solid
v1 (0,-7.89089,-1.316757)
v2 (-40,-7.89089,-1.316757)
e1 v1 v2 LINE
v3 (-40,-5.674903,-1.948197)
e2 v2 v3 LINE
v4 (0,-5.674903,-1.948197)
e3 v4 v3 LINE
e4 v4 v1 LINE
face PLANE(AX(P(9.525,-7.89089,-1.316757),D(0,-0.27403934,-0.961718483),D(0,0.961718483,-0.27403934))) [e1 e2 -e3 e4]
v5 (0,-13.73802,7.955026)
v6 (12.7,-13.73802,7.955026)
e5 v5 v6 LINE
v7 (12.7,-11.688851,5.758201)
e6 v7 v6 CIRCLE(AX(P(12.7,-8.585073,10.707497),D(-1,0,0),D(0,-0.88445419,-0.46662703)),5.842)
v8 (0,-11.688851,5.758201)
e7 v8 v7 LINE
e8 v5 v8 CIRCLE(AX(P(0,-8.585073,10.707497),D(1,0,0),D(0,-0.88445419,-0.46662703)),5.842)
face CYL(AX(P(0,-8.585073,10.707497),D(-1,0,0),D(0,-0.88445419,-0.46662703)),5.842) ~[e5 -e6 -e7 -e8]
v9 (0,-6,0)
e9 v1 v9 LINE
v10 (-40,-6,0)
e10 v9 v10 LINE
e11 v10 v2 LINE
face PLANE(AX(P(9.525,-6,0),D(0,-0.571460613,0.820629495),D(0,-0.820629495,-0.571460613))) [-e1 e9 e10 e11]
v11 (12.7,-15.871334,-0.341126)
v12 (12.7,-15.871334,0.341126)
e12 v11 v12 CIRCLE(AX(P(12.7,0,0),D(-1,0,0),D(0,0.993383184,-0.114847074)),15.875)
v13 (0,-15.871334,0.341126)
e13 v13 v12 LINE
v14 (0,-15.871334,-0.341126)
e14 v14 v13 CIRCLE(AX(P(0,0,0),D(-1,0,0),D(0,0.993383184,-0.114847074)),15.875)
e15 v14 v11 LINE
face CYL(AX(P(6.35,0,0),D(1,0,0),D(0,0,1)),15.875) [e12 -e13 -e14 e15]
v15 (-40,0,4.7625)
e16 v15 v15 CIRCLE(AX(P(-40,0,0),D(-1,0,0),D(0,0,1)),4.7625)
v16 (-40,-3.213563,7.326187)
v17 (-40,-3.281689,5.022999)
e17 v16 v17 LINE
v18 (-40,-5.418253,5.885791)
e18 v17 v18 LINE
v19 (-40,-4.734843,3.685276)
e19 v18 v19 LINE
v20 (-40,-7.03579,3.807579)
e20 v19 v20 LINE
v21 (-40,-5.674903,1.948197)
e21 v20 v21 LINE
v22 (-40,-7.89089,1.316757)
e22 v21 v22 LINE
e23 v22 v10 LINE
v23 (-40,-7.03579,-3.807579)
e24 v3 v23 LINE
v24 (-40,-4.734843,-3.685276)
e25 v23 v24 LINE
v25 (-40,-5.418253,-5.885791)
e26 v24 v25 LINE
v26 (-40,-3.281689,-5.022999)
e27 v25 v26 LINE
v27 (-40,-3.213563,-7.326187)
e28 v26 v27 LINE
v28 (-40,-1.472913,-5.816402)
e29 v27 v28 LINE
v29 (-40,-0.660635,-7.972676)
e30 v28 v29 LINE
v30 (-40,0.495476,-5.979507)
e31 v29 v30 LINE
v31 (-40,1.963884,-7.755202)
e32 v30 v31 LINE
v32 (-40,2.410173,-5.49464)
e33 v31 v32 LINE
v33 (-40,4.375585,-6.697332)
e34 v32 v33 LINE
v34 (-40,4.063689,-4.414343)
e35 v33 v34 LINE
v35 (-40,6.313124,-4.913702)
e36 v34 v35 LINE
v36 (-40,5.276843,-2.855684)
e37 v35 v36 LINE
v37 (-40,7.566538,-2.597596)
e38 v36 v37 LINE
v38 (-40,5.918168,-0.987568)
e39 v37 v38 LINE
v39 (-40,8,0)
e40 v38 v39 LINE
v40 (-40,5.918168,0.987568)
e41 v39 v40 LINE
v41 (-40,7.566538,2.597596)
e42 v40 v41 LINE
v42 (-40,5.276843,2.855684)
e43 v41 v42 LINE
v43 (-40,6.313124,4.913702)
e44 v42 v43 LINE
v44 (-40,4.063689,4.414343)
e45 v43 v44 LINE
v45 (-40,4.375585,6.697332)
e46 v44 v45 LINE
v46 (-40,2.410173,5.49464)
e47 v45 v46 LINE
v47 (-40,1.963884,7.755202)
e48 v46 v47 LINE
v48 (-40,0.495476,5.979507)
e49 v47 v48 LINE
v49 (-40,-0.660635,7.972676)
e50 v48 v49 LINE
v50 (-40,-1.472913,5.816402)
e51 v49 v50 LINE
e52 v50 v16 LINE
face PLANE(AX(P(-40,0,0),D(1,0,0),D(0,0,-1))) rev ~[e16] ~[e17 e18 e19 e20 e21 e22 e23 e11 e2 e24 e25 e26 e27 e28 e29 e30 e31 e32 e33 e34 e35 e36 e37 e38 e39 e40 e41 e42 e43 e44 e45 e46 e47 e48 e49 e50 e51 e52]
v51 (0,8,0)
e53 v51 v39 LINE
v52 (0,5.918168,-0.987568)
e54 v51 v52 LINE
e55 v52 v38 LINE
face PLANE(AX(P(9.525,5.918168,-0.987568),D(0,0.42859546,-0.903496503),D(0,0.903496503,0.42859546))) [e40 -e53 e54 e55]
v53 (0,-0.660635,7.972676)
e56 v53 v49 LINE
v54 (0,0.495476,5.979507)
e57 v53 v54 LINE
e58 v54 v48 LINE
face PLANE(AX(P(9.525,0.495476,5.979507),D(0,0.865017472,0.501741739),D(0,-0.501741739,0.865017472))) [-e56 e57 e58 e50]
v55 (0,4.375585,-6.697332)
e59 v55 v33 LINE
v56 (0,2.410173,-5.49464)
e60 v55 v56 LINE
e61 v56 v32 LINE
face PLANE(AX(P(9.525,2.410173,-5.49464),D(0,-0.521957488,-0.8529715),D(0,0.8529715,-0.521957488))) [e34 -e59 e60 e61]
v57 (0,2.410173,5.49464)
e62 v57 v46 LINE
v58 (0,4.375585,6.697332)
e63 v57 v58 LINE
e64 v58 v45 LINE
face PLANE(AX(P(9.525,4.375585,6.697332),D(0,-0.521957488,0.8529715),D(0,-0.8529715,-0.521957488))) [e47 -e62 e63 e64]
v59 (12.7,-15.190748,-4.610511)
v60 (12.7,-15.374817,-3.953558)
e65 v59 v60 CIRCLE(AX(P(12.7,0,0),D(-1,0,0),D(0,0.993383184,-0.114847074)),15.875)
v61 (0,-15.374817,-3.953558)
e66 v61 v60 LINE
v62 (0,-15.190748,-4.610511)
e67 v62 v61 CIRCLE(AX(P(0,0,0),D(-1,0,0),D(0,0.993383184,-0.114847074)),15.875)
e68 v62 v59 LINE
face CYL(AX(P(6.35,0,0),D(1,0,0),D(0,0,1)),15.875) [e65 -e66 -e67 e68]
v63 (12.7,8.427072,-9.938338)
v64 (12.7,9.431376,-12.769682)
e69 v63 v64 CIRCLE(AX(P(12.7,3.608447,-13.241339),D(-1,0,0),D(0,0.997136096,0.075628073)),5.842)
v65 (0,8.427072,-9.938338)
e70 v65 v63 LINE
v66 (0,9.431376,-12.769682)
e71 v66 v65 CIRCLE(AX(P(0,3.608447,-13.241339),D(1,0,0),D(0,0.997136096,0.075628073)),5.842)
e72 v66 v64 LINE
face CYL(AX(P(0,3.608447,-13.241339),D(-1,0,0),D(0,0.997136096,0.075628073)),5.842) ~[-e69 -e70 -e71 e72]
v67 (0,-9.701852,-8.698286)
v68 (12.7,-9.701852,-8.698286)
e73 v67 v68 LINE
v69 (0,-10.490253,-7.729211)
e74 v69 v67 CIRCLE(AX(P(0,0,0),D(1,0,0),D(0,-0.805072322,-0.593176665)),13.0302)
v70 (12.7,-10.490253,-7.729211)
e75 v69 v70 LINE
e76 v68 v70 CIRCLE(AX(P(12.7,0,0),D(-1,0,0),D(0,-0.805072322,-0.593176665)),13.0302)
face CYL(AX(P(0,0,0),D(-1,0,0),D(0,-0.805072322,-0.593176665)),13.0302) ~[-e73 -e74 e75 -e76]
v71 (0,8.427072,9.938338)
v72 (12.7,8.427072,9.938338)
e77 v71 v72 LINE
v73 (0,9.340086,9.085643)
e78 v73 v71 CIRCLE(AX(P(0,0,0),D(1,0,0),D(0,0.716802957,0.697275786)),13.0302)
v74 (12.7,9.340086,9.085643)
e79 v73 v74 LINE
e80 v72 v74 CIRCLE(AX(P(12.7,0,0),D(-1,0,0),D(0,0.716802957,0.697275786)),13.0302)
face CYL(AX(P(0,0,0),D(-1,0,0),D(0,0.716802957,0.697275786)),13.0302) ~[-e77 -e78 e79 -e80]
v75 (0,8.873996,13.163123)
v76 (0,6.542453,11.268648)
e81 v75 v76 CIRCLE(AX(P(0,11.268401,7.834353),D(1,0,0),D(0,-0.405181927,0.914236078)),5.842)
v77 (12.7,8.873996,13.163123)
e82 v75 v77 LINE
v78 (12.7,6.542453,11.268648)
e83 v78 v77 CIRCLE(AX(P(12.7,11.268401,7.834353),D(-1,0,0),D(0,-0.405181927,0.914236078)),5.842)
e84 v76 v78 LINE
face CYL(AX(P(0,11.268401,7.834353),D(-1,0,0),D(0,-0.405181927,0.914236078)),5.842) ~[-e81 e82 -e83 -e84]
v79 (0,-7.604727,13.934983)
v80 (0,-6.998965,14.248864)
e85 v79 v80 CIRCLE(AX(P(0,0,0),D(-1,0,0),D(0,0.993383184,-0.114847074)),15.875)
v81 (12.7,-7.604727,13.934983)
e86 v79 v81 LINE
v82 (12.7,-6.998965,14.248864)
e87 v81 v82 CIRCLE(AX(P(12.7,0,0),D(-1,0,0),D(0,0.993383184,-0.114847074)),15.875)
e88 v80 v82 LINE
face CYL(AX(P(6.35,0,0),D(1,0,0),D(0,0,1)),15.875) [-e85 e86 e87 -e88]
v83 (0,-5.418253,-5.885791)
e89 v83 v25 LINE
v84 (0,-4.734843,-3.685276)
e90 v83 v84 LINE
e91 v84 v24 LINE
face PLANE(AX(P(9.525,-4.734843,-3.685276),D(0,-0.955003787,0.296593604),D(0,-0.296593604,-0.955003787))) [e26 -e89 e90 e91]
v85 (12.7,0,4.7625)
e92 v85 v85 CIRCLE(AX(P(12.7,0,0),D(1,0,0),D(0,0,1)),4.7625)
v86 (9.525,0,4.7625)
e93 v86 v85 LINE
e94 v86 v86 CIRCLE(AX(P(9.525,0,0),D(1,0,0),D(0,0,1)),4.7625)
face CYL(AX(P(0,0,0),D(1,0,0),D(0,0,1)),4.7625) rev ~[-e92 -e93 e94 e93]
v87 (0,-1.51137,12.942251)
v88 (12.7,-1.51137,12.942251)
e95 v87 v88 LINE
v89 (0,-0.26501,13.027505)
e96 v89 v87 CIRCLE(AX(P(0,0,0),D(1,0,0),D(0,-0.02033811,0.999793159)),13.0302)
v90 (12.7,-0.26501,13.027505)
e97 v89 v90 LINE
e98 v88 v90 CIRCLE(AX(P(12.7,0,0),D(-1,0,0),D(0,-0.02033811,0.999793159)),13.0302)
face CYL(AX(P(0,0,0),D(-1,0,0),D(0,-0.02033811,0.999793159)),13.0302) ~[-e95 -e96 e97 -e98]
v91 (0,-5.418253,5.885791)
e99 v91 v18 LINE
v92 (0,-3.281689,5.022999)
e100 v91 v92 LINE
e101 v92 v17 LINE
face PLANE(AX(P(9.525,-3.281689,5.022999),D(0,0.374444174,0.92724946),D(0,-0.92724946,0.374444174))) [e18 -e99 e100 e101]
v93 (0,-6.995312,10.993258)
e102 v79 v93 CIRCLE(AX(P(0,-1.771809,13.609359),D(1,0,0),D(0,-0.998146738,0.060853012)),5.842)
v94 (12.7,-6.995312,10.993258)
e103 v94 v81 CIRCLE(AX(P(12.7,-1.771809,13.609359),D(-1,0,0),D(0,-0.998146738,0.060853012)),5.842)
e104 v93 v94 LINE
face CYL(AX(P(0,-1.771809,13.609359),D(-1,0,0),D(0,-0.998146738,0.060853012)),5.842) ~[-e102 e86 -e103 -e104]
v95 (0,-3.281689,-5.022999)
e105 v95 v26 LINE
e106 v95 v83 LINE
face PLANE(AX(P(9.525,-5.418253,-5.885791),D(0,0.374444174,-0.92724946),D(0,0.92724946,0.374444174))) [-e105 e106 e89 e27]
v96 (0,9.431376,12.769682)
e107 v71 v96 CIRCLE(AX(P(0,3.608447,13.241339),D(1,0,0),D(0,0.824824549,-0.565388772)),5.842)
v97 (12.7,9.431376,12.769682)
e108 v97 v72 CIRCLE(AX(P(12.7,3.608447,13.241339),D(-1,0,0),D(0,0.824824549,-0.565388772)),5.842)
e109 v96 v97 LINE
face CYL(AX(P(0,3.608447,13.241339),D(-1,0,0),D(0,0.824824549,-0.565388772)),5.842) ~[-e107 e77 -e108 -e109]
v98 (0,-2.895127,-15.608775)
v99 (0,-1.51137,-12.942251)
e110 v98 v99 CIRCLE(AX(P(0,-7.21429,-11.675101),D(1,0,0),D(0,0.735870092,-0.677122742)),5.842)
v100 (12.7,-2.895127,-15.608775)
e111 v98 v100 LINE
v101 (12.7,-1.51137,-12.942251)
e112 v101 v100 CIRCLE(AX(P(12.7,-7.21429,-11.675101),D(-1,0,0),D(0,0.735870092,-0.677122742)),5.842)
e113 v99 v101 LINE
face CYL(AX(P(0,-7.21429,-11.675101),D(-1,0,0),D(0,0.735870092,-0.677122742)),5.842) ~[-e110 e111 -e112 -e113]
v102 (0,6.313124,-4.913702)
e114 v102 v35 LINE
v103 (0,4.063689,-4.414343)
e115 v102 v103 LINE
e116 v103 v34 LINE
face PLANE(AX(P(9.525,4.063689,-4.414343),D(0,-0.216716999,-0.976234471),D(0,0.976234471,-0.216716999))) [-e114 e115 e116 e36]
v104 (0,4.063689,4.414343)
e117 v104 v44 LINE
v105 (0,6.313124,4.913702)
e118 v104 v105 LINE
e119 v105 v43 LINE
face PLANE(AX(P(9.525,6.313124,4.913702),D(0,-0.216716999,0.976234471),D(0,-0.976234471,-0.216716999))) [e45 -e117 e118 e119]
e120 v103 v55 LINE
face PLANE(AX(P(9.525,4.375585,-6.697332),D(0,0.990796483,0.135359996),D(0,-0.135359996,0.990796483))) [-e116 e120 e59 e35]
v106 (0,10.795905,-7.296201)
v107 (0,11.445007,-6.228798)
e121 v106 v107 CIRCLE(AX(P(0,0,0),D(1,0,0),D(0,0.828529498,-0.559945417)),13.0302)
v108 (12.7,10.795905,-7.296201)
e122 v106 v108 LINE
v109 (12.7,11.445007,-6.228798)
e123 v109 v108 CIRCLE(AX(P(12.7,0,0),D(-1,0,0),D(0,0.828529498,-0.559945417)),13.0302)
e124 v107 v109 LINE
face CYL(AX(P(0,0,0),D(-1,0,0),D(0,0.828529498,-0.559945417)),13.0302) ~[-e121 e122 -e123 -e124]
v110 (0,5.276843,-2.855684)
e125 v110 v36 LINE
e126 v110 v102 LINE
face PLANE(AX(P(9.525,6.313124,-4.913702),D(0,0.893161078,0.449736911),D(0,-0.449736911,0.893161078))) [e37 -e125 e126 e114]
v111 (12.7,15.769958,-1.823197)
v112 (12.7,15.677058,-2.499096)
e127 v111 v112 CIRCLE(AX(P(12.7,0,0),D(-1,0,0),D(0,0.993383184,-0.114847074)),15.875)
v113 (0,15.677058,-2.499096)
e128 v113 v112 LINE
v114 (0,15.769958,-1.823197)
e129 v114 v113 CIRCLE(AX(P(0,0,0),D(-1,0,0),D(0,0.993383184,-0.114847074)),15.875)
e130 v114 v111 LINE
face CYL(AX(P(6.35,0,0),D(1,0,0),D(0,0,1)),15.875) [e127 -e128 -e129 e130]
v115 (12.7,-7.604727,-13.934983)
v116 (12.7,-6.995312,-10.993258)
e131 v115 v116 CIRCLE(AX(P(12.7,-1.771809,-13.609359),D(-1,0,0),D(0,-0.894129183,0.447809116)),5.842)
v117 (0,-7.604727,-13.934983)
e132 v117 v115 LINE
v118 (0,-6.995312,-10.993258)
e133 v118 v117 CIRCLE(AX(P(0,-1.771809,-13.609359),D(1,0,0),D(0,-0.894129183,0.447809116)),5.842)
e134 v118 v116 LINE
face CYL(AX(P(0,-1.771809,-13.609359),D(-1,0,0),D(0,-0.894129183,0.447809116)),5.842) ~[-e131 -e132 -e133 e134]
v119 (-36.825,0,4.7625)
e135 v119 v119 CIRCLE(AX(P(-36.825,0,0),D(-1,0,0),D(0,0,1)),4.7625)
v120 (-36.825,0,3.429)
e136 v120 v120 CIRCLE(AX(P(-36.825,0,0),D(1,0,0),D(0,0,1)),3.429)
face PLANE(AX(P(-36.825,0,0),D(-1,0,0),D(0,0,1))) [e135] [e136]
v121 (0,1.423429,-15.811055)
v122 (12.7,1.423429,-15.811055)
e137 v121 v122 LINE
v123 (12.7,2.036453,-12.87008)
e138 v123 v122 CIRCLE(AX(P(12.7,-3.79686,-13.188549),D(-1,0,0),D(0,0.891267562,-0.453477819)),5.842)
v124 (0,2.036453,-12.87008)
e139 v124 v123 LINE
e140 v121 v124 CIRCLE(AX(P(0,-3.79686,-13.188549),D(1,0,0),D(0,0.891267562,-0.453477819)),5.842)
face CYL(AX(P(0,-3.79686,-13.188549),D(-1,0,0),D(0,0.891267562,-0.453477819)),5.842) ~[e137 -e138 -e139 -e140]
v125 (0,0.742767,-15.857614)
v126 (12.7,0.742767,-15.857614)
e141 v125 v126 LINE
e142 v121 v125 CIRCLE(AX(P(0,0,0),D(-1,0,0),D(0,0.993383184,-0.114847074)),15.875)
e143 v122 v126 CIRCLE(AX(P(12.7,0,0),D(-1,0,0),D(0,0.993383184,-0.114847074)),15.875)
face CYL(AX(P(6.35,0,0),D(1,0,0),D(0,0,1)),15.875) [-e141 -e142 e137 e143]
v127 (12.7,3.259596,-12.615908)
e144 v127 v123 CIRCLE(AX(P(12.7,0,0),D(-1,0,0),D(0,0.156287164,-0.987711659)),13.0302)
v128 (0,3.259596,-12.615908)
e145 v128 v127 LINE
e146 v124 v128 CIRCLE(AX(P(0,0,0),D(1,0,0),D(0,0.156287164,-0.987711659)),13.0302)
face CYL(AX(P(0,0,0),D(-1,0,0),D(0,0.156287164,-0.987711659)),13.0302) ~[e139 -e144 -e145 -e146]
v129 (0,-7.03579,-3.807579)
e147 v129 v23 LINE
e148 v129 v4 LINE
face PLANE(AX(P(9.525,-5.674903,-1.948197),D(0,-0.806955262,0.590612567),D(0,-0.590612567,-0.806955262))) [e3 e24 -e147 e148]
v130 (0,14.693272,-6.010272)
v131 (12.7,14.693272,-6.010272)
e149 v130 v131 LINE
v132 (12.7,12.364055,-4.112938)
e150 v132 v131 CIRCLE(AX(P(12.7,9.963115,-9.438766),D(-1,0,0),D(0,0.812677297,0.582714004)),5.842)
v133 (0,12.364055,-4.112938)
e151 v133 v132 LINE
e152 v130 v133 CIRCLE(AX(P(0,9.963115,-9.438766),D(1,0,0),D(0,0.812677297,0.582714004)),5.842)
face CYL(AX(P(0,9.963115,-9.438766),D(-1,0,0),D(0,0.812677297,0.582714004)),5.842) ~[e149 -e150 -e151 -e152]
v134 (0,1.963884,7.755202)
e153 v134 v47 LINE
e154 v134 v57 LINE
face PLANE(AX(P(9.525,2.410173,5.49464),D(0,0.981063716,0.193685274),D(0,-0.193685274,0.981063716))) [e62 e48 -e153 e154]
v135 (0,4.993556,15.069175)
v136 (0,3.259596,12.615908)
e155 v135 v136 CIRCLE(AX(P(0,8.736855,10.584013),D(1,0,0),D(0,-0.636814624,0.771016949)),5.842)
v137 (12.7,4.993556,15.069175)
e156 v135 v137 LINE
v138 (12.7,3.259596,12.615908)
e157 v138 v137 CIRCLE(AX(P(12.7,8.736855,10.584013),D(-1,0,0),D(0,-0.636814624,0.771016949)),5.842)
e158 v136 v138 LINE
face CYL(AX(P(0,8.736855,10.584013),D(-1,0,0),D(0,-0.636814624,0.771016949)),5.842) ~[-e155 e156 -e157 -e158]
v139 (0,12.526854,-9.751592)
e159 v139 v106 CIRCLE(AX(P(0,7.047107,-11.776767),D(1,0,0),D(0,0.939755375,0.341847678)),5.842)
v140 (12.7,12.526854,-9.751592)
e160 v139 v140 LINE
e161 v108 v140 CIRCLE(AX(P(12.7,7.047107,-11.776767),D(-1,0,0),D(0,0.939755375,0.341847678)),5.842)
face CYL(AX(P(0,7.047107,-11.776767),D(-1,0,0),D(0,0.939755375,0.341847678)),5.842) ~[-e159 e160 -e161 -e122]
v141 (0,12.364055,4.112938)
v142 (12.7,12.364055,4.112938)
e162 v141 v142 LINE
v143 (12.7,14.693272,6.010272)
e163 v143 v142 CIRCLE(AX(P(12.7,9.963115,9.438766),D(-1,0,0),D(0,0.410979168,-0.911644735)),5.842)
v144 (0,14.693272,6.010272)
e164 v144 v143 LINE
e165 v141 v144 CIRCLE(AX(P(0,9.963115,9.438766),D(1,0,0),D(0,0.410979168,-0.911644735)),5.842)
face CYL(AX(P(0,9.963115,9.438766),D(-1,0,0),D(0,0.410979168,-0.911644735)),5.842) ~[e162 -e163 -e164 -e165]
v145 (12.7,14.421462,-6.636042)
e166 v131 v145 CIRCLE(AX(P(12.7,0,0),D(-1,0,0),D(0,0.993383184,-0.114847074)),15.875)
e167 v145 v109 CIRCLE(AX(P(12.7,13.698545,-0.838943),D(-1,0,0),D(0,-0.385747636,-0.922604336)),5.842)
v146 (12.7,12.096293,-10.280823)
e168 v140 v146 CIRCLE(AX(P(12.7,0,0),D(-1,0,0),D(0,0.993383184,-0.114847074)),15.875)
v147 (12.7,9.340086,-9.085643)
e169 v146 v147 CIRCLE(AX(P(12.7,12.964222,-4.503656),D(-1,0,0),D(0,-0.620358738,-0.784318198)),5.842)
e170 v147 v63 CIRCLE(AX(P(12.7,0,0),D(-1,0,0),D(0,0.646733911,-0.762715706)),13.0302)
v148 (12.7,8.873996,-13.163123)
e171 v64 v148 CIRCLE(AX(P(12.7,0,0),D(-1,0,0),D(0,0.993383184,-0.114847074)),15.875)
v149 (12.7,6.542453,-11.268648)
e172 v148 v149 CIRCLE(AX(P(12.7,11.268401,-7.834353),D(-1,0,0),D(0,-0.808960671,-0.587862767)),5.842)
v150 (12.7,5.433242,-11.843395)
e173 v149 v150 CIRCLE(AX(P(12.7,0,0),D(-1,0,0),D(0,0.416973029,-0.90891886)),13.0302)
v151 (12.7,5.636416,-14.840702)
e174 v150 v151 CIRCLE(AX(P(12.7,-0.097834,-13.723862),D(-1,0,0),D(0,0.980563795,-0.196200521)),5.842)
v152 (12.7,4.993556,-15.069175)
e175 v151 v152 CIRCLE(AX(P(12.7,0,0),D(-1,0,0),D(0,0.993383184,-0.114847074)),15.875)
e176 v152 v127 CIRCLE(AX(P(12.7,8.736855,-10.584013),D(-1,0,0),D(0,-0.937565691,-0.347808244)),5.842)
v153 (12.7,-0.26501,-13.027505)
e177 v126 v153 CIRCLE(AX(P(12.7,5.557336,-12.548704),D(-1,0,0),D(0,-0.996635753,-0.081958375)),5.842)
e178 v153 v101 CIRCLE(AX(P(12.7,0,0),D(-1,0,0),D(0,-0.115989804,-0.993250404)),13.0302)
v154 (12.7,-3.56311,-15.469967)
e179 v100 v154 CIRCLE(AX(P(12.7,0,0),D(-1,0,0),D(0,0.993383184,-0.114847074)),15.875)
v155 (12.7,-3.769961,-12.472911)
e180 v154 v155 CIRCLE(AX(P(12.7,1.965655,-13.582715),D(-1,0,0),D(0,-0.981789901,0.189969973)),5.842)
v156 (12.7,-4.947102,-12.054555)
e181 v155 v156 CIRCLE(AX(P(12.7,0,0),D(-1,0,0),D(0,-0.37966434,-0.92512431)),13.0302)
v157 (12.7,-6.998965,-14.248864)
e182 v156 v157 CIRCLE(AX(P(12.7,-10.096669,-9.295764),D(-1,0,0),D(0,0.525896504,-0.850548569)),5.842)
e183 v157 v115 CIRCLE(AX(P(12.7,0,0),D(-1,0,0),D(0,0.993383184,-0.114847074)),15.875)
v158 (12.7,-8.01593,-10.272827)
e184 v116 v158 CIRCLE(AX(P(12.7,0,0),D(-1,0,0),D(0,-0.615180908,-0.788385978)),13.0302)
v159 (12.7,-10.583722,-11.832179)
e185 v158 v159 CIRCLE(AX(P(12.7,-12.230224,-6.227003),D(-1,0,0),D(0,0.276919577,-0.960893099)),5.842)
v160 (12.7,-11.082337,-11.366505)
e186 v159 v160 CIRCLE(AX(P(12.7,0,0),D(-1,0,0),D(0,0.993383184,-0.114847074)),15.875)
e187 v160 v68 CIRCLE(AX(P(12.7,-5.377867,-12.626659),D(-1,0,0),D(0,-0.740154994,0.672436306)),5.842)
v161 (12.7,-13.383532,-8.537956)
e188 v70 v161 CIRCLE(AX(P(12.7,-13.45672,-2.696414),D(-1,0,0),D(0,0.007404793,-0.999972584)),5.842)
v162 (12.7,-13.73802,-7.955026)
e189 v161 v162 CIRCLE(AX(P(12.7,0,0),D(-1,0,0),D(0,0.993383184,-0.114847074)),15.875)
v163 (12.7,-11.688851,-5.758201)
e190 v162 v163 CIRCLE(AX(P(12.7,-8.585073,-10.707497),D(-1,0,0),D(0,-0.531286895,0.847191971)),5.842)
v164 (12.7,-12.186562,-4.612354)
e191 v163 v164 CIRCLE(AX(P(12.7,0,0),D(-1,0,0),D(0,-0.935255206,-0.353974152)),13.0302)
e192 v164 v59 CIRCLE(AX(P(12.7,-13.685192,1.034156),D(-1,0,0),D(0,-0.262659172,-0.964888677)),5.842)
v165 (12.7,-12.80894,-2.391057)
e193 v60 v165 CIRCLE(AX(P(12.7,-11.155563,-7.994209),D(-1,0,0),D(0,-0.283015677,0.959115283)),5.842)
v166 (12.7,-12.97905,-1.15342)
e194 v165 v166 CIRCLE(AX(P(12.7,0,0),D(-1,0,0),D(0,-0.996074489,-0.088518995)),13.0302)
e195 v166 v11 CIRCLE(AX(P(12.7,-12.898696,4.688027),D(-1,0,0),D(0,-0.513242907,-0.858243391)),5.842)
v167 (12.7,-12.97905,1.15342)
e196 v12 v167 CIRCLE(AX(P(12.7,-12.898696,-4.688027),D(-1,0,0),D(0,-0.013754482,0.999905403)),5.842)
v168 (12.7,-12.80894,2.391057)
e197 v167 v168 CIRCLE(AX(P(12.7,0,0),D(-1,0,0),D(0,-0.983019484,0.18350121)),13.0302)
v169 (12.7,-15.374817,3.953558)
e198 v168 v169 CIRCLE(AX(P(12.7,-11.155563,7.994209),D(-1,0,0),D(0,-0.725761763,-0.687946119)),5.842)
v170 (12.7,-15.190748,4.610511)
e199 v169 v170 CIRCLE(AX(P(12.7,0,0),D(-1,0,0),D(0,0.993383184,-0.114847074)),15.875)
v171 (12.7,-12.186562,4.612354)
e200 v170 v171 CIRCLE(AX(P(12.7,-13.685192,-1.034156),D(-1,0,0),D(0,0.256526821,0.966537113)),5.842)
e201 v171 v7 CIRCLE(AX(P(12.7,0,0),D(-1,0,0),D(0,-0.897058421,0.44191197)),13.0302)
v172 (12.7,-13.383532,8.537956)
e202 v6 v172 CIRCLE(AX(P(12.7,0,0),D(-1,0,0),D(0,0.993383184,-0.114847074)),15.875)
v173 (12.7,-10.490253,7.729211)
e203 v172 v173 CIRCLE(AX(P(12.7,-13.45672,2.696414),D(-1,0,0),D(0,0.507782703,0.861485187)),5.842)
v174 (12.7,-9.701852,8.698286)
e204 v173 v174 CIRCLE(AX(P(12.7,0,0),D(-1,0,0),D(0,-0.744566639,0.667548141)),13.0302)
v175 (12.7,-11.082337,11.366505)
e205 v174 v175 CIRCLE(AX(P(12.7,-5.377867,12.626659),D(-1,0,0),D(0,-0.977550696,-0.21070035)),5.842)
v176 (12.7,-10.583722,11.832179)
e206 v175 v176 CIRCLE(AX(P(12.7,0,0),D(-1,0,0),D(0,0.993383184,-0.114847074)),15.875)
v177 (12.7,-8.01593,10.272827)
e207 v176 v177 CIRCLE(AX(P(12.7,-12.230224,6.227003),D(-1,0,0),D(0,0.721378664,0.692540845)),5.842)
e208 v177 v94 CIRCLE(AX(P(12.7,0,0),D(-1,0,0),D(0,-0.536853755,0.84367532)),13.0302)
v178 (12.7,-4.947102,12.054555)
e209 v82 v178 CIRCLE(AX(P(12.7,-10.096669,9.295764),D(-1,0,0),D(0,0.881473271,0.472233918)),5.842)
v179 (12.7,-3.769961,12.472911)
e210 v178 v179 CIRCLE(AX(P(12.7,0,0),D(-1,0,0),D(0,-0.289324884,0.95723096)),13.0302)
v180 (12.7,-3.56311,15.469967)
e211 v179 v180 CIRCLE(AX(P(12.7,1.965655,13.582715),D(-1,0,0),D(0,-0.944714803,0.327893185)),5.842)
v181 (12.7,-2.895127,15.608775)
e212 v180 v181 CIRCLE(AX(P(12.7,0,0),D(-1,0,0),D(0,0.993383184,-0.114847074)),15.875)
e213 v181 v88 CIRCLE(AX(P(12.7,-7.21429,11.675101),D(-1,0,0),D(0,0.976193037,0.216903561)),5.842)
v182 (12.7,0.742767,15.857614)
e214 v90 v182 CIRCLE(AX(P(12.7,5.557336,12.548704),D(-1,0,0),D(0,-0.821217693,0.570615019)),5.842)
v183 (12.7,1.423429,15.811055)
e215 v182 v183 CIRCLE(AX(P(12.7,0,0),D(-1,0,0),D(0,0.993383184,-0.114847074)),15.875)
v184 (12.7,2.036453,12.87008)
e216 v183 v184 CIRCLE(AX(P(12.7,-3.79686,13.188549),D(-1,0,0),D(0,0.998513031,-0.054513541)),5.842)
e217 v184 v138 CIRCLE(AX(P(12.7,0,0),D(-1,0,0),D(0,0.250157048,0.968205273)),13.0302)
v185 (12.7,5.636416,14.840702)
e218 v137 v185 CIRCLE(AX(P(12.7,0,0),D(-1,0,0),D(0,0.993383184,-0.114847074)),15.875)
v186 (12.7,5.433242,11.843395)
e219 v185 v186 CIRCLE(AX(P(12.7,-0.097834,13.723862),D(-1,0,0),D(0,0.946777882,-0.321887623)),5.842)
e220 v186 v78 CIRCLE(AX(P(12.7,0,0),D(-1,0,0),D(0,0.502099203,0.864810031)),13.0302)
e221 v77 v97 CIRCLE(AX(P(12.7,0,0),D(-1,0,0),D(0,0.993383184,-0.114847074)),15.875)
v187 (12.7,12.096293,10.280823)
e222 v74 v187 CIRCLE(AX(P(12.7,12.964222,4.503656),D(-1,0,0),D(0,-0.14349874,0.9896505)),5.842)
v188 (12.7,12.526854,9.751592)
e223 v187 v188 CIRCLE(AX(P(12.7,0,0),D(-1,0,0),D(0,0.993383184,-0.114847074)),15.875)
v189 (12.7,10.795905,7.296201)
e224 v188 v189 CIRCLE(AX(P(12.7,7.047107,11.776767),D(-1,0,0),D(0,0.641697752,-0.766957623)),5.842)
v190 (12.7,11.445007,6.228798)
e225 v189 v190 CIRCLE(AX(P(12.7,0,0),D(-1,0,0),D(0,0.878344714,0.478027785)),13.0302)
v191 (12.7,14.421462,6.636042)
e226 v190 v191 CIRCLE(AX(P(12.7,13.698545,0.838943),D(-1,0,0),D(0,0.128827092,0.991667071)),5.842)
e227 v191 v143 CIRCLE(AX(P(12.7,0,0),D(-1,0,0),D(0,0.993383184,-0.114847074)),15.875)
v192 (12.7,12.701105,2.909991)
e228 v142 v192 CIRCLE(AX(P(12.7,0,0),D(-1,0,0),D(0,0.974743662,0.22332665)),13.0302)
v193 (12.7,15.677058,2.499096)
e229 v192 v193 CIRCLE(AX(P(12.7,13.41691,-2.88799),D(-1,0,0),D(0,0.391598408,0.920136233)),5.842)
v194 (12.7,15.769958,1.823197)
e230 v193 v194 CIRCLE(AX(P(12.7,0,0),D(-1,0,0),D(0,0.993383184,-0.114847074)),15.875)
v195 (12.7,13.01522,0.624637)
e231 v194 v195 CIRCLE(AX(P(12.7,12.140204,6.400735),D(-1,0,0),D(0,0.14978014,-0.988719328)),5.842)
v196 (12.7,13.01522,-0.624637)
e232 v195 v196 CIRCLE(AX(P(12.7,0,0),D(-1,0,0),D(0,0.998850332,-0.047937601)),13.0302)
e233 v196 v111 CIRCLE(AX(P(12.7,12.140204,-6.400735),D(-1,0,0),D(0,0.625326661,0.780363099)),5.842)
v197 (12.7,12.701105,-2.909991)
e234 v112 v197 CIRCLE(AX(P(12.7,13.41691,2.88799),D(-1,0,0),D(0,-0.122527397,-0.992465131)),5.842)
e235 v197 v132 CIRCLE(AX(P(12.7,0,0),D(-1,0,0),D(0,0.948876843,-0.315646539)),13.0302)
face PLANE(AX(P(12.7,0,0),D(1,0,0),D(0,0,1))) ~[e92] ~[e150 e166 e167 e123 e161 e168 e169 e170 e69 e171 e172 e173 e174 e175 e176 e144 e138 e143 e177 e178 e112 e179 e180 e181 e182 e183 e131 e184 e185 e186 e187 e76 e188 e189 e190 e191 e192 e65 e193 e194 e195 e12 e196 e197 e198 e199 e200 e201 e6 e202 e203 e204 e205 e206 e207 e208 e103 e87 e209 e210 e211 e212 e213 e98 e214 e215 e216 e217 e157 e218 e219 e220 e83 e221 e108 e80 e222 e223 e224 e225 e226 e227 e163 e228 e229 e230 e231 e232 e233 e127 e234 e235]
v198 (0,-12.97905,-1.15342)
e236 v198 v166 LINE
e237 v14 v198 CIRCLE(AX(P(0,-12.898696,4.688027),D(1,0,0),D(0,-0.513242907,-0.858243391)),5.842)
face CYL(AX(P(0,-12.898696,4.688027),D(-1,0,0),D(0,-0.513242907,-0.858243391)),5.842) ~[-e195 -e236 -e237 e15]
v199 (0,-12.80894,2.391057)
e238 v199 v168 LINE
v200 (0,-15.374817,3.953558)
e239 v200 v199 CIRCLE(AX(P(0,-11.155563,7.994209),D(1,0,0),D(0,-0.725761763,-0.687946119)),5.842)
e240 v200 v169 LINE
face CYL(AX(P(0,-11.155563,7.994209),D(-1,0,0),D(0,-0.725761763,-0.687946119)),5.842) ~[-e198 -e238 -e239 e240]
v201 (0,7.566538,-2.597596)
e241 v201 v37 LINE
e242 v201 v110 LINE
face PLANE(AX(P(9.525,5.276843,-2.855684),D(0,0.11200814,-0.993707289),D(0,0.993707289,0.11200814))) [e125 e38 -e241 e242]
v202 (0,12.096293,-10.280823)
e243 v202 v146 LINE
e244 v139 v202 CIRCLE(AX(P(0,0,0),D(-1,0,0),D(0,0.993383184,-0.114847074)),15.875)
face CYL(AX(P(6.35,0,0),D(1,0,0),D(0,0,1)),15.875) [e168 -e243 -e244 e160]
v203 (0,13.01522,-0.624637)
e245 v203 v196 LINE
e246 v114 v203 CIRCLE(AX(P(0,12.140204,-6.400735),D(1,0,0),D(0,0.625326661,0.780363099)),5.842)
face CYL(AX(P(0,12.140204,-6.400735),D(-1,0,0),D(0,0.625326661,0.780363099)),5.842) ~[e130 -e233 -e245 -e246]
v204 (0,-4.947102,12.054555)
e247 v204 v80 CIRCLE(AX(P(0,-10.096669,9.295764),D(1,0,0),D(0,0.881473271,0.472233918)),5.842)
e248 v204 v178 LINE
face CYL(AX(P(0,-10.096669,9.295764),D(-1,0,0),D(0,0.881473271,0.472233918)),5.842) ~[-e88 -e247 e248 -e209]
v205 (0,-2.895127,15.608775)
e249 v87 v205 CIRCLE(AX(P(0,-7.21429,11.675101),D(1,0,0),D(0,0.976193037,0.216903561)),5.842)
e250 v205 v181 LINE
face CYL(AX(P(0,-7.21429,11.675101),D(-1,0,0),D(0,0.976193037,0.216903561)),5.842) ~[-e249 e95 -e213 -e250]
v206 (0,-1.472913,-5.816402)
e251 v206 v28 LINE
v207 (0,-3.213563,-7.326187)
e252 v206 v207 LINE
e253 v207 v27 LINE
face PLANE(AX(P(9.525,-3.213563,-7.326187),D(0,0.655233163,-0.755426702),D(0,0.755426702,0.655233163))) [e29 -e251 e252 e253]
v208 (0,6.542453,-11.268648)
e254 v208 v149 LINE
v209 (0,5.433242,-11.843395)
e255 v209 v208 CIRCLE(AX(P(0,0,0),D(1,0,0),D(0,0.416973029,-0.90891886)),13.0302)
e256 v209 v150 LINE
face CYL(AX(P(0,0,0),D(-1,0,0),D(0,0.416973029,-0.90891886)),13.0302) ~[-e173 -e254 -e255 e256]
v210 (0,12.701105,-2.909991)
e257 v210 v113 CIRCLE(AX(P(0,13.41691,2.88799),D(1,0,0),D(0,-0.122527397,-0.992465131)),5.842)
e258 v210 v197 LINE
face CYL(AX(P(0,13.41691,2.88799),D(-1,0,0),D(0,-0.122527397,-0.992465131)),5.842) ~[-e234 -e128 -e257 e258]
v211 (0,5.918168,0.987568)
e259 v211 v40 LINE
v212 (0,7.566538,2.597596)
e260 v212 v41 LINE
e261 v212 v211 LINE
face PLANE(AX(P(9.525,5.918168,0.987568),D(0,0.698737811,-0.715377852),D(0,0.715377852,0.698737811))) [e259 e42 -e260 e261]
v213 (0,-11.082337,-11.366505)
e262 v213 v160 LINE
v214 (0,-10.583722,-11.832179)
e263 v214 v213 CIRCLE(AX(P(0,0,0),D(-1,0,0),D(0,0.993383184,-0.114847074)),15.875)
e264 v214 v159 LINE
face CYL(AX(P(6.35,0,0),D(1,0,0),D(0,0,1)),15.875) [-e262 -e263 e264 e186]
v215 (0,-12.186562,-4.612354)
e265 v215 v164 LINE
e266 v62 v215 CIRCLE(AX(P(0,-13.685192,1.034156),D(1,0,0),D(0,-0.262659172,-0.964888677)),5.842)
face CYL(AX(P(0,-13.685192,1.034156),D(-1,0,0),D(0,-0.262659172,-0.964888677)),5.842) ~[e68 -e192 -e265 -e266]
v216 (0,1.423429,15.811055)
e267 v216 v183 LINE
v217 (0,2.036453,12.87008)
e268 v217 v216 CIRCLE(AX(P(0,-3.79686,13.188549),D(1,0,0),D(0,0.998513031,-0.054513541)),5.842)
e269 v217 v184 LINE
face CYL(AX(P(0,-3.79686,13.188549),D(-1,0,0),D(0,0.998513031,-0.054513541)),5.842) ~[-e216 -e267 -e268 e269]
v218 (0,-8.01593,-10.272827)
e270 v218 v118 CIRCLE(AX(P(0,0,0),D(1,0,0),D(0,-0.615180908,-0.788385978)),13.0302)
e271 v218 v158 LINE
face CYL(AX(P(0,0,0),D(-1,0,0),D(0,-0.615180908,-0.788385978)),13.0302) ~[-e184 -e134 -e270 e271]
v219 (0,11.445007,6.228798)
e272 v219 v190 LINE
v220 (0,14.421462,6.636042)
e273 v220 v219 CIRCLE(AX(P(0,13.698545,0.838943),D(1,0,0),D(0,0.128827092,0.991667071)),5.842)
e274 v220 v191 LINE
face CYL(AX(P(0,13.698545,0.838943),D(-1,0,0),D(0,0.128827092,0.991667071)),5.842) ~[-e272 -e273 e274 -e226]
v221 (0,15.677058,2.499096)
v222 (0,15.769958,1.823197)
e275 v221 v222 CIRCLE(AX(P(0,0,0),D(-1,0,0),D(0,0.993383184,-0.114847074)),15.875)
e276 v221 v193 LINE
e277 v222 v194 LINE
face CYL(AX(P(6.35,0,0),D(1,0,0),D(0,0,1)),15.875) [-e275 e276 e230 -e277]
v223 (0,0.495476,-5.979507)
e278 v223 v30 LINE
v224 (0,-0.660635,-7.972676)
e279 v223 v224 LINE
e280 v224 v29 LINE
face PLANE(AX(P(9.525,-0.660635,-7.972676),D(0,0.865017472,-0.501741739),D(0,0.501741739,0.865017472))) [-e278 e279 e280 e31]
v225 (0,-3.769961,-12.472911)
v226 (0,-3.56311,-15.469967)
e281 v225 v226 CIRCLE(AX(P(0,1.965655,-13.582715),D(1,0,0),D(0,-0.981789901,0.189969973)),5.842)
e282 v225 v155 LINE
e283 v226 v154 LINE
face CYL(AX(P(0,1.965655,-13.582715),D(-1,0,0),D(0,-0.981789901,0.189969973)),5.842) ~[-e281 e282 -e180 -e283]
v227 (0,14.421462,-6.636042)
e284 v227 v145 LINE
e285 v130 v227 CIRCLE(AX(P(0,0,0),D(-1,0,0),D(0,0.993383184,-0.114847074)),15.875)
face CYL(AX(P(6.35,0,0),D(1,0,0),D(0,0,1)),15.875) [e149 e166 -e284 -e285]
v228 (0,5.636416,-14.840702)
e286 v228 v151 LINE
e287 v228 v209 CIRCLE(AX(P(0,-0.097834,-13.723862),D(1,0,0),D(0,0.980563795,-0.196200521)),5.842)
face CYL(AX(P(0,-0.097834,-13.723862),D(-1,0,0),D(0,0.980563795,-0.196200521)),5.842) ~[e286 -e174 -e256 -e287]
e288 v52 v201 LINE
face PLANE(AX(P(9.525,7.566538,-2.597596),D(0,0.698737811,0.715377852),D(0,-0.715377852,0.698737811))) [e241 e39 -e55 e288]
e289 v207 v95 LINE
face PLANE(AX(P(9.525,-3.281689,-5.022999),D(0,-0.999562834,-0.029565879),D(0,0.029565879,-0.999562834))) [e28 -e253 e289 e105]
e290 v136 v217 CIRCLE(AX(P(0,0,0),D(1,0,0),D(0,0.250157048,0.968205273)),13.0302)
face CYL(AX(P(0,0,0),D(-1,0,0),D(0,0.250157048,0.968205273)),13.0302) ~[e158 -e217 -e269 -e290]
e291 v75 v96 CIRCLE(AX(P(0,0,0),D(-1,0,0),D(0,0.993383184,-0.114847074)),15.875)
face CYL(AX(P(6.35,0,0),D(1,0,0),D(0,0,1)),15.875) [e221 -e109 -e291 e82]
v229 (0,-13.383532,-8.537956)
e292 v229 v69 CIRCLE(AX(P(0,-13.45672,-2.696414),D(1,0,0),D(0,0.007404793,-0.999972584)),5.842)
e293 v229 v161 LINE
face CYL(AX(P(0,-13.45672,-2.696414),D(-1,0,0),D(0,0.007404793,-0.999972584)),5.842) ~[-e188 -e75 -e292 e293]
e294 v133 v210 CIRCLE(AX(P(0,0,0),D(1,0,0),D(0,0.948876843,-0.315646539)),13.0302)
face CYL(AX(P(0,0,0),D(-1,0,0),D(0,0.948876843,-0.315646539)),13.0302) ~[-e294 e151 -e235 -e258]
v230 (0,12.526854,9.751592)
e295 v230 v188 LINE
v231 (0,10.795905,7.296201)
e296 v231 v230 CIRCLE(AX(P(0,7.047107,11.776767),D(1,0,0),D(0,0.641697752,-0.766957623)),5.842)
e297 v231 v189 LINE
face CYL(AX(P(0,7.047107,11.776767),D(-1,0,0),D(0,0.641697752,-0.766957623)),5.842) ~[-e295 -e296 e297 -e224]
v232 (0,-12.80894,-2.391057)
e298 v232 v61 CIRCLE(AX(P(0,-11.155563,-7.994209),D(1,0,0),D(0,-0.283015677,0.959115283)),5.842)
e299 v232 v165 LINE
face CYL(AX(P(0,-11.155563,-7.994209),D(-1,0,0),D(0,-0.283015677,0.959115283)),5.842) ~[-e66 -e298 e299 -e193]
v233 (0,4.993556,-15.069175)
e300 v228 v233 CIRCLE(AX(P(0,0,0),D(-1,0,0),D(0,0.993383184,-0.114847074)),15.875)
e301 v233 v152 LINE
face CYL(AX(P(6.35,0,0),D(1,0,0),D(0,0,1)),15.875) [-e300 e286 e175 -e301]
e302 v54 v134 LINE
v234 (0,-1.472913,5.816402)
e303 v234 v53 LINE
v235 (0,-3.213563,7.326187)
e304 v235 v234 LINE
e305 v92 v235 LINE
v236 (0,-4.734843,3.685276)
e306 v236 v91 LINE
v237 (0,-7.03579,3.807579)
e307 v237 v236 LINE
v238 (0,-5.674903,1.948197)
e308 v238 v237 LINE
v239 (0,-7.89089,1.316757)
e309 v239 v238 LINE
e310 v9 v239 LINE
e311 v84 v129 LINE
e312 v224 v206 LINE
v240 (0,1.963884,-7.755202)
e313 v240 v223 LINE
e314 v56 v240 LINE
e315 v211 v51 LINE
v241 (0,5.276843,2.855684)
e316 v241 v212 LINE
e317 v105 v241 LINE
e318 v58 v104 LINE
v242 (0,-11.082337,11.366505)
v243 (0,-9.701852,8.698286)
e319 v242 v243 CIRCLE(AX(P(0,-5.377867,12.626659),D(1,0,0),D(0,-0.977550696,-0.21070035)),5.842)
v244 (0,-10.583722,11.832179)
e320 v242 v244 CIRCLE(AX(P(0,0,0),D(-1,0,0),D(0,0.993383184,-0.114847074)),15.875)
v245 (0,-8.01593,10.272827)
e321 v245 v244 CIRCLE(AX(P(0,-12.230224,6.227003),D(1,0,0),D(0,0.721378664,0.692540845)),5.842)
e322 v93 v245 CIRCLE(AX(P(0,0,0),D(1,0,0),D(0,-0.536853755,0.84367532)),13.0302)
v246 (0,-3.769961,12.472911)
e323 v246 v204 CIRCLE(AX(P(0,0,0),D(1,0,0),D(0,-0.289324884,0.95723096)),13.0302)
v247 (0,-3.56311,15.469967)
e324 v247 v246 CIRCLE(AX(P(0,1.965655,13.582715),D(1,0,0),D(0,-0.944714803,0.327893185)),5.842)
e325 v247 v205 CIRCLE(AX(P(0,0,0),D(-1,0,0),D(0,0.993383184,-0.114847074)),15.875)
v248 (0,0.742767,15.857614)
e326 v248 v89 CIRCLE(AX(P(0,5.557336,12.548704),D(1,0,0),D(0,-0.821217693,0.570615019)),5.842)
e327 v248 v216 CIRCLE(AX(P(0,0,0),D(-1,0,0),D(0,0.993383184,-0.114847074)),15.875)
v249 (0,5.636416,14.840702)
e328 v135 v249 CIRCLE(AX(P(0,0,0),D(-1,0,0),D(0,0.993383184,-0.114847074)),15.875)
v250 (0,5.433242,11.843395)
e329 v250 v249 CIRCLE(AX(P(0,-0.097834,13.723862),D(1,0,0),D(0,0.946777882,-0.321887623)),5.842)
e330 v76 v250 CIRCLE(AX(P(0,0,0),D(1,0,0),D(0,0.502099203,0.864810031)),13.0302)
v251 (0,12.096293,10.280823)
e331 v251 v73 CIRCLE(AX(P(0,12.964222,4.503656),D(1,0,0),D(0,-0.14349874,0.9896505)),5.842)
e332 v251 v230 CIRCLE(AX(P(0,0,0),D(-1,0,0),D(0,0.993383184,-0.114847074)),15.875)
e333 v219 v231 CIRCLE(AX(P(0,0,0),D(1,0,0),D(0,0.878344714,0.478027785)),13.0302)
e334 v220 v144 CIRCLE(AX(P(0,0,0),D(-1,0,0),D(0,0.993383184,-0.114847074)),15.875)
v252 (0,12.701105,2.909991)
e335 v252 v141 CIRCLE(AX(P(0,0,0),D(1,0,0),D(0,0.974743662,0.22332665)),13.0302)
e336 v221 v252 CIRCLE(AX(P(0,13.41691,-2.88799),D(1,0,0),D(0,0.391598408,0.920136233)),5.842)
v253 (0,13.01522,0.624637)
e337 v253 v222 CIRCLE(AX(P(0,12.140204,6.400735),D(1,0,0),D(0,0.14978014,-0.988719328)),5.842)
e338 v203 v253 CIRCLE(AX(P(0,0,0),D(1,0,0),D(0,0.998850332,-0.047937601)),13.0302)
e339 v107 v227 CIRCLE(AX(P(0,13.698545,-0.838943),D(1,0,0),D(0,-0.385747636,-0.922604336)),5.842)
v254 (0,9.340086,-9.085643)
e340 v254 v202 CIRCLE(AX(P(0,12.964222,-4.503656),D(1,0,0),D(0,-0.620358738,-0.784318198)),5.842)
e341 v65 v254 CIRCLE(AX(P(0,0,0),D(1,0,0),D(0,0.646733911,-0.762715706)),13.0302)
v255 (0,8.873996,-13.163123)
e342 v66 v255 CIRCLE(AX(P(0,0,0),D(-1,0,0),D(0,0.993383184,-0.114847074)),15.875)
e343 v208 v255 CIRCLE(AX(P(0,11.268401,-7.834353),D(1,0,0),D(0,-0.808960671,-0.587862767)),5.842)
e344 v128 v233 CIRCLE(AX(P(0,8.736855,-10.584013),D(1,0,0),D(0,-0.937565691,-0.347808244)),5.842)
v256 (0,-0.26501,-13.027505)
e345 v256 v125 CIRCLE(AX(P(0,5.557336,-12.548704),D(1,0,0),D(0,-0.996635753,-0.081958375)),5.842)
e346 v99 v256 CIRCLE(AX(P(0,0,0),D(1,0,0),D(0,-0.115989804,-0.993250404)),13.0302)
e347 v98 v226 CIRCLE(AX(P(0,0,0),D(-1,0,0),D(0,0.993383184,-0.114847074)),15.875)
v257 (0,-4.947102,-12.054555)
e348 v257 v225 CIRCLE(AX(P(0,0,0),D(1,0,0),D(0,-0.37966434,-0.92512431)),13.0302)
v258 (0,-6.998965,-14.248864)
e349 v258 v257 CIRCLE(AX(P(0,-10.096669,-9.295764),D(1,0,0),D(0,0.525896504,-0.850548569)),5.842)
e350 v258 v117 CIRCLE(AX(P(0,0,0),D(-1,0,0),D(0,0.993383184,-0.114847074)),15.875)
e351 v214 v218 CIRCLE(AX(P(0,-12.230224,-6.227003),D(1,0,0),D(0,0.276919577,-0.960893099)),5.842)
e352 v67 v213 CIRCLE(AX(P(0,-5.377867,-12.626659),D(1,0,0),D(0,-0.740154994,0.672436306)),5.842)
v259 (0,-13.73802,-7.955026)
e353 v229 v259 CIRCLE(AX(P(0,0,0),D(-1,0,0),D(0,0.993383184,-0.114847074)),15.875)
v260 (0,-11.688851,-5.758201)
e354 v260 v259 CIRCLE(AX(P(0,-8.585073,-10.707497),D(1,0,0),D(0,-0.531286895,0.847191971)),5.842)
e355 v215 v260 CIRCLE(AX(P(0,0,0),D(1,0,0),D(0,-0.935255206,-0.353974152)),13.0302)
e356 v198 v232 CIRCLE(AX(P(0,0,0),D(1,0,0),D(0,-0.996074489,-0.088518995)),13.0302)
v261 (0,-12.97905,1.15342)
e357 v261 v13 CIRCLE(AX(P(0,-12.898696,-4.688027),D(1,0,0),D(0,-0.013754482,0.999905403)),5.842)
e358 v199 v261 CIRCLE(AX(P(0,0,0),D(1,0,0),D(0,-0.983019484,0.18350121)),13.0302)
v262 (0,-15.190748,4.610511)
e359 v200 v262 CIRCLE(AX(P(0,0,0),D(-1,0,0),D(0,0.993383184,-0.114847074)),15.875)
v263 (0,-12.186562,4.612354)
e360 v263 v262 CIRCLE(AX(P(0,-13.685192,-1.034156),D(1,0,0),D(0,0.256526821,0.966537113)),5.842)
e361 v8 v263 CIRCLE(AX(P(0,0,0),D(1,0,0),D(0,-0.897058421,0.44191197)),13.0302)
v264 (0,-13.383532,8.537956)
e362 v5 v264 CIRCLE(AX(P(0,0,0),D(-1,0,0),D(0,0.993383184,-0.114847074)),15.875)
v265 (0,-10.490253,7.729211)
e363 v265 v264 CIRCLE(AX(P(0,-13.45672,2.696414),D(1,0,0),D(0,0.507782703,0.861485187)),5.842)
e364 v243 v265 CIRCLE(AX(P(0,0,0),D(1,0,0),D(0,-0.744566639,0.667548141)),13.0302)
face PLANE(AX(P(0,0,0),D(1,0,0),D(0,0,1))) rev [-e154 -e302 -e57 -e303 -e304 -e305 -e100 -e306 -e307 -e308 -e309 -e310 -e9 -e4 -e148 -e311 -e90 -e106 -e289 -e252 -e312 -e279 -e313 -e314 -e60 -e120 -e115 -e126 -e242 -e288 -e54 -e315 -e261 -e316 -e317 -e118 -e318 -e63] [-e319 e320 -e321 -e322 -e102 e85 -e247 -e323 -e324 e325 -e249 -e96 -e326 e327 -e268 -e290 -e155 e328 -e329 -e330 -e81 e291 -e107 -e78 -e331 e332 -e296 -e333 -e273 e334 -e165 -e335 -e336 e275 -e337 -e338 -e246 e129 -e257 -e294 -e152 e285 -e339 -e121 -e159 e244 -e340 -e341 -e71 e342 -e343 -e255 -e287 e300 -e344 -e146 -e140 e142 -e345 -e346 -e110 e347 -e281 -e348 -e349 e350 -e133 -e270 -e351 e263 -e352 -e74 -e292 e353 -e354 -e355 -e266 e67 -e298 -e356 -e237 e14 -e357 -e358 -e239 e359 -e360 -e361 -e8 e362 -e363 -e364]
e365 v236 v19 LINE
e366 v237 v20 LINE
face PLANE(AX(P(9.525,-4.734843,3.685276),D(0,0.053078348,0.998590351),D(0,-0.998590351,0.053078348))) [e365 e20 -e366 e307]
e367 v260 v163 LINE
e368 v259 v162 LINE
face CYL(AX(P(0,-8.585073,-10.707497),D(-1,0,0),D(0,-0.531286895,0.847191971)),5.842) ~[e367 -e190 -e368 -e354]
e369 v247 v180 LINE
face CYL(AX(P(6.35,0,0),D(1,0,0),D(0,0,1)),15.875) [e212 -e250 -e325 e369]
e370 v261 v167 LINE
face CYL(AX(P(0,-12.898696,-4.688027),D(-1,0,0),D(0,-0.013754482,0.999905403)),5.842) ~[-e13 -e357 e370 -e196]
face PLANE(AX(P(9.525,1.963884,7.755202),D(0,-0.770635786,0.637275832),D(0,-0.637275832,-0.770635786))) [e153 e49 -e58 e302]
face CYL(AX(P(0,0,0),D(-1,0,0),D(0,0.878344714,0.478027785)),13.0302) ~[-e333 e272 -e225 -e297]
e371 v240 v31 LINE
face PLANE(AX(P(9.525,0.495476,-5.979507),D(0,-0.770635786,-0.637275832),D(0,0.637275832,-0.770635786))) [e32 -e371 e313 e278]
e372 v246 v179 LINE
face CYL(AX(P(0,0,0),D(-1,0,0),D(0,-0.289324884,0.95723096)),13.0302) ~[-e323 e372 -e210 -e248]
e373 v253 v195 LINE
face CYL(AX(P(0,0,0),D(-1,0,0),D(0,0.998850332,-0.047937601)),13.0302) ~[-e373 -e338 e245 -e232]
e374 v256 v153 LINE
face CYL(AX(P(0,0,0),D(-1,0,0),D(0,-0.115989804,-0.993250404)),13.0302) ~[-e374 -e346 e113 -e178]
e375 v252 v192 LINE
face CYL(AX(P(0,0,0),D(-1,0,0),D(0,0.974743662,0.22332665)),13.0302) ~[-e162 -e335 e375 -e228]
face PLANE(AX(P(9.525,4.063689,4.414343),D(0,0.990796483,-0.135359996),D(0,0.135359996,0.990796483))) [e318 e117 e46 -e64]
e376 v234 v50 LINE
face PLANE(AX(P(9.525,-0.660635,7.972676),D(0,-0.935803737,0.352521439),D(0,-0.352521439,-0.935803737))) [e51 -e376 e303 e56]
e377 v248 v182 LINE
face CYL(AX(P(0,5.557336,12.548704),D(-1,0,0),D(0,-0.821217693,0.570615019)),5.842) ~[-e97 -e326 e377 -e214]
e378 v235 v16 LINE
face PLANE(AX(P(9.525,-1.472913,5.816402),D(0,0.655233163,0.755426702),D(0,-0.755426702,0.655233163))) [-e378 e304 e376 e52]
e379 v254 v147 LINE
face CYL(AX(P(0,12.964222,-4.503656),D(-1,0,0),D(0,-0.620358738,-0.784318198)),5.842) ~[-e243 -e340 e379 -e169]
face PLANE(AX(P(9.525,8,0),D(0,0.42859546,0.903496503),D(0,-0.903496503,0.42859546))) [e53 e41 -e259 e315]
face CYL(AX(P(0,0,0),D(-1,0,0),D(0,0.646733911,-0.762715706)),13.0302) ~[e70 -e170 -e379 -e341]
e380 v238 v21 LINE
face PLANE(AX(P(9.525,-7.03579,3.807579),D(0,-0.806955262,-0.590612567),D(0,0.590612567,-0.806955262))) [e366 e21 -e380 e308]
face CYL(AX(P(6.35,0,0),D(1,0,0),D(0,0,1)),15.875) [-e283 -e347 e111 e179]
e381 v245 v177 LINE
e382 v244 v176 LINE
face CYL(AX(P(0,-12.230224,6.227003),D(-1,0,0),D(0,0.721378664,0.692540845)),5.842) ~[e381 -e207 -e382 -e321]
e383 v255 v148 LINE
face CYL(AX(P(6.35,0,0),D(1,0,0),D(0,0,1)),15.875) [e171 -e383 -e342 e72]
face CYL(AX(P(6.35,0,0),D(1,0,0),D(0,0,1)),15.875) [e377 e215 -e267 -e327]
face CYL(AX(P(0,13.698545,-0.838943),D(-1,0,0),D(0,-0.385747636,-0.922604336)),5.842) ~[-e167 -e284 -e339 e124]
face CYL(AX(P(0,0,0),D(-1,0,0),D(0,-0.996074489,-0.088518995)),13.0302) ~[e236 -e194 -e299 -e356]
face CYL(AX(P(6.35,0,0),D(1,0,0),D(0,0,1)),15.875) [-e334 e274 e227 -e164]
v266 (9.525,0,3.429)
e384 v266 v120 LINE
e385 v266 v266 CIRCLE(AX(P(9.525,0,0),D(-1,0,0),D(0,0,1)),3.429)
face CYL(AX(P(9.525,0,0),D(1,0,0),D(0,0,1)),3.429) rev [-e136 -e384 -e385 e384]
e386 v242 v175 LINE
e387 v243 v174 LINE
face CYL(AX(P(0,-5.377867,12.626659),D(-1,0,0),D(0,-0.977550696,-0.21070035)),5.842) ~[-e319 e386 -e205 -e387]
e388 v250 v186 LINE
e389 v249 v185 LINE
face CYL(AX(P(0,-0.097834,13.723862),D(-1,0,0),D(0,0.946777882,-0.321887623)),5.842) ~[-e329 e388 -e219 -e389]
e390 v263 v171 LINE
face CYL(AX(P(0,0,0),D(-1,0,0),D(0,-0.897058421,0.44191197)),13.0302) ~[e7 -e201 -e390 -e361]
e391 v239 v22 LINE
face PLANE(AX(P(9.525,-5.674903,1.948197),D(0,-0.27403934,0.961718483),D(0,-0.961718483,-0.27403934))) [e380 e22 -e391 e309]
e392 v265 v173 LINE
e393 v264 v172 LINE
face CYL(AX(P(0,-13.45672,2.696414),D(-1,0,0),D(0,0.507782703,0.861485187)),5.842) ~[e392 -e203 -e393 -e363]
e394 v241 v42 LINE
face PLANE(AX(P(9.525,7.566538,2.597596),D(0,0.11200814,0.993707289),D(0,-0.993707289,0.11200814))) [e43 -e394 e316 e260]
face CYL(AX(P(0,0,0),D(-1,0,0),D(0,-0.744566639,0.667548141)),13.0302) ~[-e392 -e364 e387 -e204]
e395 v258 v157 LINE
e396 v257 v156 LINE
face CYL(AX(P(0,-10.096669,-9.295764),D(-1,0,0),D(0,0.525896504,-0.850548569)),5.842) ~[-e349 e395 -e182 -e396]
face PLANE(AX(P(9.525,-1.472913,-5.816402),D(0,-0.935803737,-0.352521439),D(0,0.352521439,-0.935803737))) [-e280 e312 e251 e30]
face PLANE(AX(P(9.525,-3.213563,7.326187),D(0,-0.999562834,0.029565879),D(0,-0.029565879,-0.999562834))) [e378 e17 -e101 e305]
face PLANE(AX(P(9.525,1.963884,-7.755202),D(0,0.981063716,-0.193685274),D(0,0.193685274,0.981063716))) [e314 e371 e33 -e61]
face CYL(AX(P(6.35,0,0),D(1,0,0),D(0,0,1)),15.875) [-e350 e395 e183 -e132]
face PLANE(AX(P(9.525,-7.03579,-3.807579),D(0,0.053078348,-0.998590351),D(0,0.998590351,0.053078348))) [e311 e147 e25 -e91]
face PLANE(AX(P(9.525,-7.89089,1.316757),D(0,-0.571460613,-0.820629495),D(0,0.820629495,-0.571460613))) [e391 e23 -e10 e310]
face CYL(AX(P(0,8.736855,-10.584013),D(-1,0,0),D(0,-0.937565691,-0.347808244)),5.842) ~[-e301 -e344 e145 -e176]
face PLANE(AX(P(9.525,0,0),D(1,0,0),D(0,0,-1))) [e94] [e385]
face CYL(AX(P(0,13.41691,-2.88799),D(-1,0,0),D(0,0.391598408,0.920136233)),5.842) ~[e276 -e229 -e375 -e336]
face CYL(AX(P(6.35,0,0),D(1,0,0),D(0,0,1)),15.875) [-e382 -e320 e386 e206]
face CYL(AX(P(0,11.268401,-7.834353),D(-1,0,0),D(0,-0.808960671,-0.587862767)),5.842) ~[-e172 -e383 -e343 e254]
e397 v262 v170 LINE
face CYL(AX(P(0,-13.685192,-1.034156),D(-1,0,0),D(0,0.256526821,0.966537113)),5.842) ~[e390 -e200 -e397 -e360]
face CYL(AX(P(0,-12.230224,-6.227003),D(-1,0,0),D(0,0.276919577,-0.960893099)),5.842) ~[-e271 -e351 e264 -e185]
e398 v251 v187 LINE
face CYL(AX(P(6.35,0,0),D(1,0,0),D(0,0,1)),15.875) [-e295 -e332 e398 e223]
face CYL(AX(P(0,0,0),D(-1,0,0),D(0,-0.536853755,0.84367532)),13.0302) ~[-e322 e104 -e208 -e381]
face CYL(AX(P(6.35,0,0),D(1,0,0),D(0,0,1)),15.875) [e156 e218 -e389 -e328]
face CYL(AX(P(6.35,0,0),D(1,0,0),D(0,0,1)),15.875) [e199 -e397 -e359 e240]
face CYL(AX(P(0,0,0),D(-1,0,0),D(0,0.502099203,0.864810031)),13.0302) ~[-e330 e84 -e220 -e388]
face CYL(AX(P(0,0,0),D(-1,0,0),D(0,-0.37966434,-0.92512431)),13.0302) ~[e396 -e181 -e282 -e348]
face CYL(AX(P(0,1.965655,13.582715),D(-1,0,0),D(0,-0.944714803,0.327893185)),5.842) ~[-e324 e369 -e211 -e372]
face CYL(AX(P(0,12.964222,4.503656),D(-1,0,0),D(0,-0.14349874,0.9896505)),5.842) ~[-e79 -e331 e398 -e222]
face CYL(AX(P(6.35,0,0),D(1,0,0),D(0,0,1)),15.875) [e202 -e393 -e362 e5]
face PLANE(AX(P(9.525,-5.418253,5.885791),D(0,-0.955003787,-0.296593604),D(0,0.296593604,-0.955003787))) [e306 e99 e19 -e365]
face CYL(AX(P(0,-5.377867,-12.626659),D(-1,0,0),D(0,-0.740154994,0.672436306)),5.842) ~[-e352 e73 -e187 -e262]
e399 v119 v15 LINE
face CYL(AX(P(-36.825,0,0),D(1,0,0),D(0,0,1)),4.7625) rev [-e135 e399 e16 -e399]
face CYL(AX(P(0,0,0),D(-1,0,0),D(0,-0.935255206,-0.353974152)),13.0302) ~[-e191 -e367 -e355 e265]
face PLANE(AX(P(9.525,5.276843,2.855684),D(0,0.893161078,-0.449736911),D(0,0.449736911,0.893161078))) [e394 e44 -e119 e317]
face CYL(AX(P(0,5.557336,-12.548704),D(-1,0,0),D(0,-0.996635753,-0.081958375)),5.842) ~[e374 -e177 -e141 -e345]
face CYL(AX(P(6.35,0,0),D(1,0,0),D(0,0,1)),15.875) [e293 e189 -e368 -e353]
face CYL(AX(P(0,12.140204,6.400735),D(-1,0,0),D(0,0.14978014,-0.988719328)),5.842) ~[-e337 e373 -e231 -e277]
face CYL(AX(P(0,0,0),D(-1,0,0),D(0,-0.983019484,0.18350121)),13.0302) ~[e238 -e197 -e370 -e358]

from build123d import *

# Parameters (mm, degrees)
BASPROSKE_W              = 12.7
BASPROSKE_H              = 15.875
TOOTHCUT_DEPTH           = 26.793821935
TEETHCUTS_COUNT          = 23
TEETHCUTS_ANGLE          = 344.347826087
BORSKE_R                 = 4.7625
BORE_DEPTH               = 50.8000508
BOSS_EXTRUDE1_DEPTH      = 40
BOSS_EXTRUDE1_DEPTH_BACK = 9.525
SKETCH2_R                = 3.429
CUT_EXTRUDE1_START       = -3.175
SKETCH3_R                = 4.7625
CUT_EXTRUDE1_DEPTH       = 3.175


with BuildPart() as part:
    # BasProSke → Base-Revolve (revolve)
    with BuildSketch(Plane(origin=(0, 0, 0), x_dir=(1, 0, 0), z_dir=(0, 1, 0)), mode=Mode.PRIVATE) as base_revolve_sk:
        with Locations((6.35, 7.9375)):
            Rectangle(BASPROSKE_W, BASPROSKE_H)
    revolve(base_revolve_sk.sketch.rotate(Axis((-10, 0, 0), (1, 0, 0)), 180), axis=Axis((-10, 0, 0), (1, 0, 0)))

    # TooCutSke → ToothCut (cut, through all)
    with BuildSketch(Plane(origin=(0, 0, 0), x_dir=(0, 0, -1), z_dir=(1, 0, 0))):
        with BuildLine():
            ThreePointArc((0.624636509, 13.015219601), (0, 13.0302), (-0.624636509, 13.015219601))
            ThreePointArc((-0.624636509, 13.015219601), (-1.049803144, 14.484664339), (-1.841853601, 15.793362387))
            ThreePointArc((-1.841853601, 15.793362387), (0, 15.9004), (1.841853601, 15.793362387))
            ThreePointArc((1.841853601, 15.793362387), (1.049803144, 14.484664339), (0.624636509, 13.015219601))
        make_face()
    toothcut = extrude(amount=TOOTHCUT_DEPTH, mode=Mode.SUBTRACT)

    # TeethCuts: ToothCut ×23 about axis
    teethcuts_axis = Axis((-10, 0, 0), (1, 0, 0))
    for i in range(1, TEETHCUTS_COUNT):
        add(toothcut.rotate(teethcuts_axis, i * TEETHCUTS_ANGLE / (TEETHCUTS_COUNT - 1)), mode=Mode.SUBTRACT)

    # BorSke → Bore (cut, symmetric)
    with BuildSketch(Plane(origin=(0, 0, 0), x_dir=(0, 0, -1), z_dir=(1, 0, 0))):
        with Locations(Location((0, 0, 0), (0, 0, 180))):
            Circle(BORSKE_R)
    extrude(amount=BORE_DEPTH, both=True, mode=Mode.SUBTRACT)

    # Sketch2 → Boss-Extrude1 (add, two sides: drawn at the far end of the back side and taken through both)
    with BuildSketch(Plane.ZY.offset(-BOSS_EXTRUDE1_DEPTH_BACK)):
        Polygon((2.597595754, 7.566537934), (2.855684358, 5.276842507), (4.913701702, 6.313124075), (4.414343464, 4.06368943), (6.697331826, 4.375585265), (5.49463996, 2.410172548), (7.755202128, 1.963883897), (5.979506958, 0.495476073), (7.972675944, -0.660634764), (5.816401596, -1.472912923), (7.326186613, -3.213563397), (5.02299887, -3.281688949), (5.885791285, -5.418252573), (3.685276276, -4.734843056), (3.807579144, -7.03579001), (1.948196815, -5.67490345), (1.316756722, -7.890890427), (0, -6), (-1.316756722, -7.890890427), (-1.948196815, -5.67490345), (-3.807579144, -7.03579001), (-3.685276276, -4.734843056), (-5.885791285, -5.418252573), (-5.02299887, -3.281688949), (-7.326186613, -3.213563397), (-5.816401596, -1.472912923), (-7.972675944, -0.660634764), (-5.979506958, 0.495476073), (-7.755202128, 1.963883897), (-5.49463996, 2.410172548), (-6.697331826, 4.375585265), (-4.414343464, 4.06368943), (-4.913701702, 6.313124075), (-2.855684358, 5.276842507), (-2.597595754, 7.566537934), (-0.987567542, 5.91816782), (0, 8), (0.987567542, 5.91816782), align=None)
        Circle(SKETCH2_R, mode=Mode.SUBTRACT)
    extrude(amount=BOSS_EXTRUDE1_DEPTH + BOSS_EXTRUDE1_DEPTH_BACK)

    # Sketch3 → Cut-Extrude1 (cut)
    with BuildSketch(Plane.ZY.offset(40).offset(CUT_EXTRUDE1_START)):
        Circle(SKETCH3_R)
    extrude(amount=CUT_EXTRUDE1_DEPTH, mode=Mode.SUBTRACT)


solid = part.part
